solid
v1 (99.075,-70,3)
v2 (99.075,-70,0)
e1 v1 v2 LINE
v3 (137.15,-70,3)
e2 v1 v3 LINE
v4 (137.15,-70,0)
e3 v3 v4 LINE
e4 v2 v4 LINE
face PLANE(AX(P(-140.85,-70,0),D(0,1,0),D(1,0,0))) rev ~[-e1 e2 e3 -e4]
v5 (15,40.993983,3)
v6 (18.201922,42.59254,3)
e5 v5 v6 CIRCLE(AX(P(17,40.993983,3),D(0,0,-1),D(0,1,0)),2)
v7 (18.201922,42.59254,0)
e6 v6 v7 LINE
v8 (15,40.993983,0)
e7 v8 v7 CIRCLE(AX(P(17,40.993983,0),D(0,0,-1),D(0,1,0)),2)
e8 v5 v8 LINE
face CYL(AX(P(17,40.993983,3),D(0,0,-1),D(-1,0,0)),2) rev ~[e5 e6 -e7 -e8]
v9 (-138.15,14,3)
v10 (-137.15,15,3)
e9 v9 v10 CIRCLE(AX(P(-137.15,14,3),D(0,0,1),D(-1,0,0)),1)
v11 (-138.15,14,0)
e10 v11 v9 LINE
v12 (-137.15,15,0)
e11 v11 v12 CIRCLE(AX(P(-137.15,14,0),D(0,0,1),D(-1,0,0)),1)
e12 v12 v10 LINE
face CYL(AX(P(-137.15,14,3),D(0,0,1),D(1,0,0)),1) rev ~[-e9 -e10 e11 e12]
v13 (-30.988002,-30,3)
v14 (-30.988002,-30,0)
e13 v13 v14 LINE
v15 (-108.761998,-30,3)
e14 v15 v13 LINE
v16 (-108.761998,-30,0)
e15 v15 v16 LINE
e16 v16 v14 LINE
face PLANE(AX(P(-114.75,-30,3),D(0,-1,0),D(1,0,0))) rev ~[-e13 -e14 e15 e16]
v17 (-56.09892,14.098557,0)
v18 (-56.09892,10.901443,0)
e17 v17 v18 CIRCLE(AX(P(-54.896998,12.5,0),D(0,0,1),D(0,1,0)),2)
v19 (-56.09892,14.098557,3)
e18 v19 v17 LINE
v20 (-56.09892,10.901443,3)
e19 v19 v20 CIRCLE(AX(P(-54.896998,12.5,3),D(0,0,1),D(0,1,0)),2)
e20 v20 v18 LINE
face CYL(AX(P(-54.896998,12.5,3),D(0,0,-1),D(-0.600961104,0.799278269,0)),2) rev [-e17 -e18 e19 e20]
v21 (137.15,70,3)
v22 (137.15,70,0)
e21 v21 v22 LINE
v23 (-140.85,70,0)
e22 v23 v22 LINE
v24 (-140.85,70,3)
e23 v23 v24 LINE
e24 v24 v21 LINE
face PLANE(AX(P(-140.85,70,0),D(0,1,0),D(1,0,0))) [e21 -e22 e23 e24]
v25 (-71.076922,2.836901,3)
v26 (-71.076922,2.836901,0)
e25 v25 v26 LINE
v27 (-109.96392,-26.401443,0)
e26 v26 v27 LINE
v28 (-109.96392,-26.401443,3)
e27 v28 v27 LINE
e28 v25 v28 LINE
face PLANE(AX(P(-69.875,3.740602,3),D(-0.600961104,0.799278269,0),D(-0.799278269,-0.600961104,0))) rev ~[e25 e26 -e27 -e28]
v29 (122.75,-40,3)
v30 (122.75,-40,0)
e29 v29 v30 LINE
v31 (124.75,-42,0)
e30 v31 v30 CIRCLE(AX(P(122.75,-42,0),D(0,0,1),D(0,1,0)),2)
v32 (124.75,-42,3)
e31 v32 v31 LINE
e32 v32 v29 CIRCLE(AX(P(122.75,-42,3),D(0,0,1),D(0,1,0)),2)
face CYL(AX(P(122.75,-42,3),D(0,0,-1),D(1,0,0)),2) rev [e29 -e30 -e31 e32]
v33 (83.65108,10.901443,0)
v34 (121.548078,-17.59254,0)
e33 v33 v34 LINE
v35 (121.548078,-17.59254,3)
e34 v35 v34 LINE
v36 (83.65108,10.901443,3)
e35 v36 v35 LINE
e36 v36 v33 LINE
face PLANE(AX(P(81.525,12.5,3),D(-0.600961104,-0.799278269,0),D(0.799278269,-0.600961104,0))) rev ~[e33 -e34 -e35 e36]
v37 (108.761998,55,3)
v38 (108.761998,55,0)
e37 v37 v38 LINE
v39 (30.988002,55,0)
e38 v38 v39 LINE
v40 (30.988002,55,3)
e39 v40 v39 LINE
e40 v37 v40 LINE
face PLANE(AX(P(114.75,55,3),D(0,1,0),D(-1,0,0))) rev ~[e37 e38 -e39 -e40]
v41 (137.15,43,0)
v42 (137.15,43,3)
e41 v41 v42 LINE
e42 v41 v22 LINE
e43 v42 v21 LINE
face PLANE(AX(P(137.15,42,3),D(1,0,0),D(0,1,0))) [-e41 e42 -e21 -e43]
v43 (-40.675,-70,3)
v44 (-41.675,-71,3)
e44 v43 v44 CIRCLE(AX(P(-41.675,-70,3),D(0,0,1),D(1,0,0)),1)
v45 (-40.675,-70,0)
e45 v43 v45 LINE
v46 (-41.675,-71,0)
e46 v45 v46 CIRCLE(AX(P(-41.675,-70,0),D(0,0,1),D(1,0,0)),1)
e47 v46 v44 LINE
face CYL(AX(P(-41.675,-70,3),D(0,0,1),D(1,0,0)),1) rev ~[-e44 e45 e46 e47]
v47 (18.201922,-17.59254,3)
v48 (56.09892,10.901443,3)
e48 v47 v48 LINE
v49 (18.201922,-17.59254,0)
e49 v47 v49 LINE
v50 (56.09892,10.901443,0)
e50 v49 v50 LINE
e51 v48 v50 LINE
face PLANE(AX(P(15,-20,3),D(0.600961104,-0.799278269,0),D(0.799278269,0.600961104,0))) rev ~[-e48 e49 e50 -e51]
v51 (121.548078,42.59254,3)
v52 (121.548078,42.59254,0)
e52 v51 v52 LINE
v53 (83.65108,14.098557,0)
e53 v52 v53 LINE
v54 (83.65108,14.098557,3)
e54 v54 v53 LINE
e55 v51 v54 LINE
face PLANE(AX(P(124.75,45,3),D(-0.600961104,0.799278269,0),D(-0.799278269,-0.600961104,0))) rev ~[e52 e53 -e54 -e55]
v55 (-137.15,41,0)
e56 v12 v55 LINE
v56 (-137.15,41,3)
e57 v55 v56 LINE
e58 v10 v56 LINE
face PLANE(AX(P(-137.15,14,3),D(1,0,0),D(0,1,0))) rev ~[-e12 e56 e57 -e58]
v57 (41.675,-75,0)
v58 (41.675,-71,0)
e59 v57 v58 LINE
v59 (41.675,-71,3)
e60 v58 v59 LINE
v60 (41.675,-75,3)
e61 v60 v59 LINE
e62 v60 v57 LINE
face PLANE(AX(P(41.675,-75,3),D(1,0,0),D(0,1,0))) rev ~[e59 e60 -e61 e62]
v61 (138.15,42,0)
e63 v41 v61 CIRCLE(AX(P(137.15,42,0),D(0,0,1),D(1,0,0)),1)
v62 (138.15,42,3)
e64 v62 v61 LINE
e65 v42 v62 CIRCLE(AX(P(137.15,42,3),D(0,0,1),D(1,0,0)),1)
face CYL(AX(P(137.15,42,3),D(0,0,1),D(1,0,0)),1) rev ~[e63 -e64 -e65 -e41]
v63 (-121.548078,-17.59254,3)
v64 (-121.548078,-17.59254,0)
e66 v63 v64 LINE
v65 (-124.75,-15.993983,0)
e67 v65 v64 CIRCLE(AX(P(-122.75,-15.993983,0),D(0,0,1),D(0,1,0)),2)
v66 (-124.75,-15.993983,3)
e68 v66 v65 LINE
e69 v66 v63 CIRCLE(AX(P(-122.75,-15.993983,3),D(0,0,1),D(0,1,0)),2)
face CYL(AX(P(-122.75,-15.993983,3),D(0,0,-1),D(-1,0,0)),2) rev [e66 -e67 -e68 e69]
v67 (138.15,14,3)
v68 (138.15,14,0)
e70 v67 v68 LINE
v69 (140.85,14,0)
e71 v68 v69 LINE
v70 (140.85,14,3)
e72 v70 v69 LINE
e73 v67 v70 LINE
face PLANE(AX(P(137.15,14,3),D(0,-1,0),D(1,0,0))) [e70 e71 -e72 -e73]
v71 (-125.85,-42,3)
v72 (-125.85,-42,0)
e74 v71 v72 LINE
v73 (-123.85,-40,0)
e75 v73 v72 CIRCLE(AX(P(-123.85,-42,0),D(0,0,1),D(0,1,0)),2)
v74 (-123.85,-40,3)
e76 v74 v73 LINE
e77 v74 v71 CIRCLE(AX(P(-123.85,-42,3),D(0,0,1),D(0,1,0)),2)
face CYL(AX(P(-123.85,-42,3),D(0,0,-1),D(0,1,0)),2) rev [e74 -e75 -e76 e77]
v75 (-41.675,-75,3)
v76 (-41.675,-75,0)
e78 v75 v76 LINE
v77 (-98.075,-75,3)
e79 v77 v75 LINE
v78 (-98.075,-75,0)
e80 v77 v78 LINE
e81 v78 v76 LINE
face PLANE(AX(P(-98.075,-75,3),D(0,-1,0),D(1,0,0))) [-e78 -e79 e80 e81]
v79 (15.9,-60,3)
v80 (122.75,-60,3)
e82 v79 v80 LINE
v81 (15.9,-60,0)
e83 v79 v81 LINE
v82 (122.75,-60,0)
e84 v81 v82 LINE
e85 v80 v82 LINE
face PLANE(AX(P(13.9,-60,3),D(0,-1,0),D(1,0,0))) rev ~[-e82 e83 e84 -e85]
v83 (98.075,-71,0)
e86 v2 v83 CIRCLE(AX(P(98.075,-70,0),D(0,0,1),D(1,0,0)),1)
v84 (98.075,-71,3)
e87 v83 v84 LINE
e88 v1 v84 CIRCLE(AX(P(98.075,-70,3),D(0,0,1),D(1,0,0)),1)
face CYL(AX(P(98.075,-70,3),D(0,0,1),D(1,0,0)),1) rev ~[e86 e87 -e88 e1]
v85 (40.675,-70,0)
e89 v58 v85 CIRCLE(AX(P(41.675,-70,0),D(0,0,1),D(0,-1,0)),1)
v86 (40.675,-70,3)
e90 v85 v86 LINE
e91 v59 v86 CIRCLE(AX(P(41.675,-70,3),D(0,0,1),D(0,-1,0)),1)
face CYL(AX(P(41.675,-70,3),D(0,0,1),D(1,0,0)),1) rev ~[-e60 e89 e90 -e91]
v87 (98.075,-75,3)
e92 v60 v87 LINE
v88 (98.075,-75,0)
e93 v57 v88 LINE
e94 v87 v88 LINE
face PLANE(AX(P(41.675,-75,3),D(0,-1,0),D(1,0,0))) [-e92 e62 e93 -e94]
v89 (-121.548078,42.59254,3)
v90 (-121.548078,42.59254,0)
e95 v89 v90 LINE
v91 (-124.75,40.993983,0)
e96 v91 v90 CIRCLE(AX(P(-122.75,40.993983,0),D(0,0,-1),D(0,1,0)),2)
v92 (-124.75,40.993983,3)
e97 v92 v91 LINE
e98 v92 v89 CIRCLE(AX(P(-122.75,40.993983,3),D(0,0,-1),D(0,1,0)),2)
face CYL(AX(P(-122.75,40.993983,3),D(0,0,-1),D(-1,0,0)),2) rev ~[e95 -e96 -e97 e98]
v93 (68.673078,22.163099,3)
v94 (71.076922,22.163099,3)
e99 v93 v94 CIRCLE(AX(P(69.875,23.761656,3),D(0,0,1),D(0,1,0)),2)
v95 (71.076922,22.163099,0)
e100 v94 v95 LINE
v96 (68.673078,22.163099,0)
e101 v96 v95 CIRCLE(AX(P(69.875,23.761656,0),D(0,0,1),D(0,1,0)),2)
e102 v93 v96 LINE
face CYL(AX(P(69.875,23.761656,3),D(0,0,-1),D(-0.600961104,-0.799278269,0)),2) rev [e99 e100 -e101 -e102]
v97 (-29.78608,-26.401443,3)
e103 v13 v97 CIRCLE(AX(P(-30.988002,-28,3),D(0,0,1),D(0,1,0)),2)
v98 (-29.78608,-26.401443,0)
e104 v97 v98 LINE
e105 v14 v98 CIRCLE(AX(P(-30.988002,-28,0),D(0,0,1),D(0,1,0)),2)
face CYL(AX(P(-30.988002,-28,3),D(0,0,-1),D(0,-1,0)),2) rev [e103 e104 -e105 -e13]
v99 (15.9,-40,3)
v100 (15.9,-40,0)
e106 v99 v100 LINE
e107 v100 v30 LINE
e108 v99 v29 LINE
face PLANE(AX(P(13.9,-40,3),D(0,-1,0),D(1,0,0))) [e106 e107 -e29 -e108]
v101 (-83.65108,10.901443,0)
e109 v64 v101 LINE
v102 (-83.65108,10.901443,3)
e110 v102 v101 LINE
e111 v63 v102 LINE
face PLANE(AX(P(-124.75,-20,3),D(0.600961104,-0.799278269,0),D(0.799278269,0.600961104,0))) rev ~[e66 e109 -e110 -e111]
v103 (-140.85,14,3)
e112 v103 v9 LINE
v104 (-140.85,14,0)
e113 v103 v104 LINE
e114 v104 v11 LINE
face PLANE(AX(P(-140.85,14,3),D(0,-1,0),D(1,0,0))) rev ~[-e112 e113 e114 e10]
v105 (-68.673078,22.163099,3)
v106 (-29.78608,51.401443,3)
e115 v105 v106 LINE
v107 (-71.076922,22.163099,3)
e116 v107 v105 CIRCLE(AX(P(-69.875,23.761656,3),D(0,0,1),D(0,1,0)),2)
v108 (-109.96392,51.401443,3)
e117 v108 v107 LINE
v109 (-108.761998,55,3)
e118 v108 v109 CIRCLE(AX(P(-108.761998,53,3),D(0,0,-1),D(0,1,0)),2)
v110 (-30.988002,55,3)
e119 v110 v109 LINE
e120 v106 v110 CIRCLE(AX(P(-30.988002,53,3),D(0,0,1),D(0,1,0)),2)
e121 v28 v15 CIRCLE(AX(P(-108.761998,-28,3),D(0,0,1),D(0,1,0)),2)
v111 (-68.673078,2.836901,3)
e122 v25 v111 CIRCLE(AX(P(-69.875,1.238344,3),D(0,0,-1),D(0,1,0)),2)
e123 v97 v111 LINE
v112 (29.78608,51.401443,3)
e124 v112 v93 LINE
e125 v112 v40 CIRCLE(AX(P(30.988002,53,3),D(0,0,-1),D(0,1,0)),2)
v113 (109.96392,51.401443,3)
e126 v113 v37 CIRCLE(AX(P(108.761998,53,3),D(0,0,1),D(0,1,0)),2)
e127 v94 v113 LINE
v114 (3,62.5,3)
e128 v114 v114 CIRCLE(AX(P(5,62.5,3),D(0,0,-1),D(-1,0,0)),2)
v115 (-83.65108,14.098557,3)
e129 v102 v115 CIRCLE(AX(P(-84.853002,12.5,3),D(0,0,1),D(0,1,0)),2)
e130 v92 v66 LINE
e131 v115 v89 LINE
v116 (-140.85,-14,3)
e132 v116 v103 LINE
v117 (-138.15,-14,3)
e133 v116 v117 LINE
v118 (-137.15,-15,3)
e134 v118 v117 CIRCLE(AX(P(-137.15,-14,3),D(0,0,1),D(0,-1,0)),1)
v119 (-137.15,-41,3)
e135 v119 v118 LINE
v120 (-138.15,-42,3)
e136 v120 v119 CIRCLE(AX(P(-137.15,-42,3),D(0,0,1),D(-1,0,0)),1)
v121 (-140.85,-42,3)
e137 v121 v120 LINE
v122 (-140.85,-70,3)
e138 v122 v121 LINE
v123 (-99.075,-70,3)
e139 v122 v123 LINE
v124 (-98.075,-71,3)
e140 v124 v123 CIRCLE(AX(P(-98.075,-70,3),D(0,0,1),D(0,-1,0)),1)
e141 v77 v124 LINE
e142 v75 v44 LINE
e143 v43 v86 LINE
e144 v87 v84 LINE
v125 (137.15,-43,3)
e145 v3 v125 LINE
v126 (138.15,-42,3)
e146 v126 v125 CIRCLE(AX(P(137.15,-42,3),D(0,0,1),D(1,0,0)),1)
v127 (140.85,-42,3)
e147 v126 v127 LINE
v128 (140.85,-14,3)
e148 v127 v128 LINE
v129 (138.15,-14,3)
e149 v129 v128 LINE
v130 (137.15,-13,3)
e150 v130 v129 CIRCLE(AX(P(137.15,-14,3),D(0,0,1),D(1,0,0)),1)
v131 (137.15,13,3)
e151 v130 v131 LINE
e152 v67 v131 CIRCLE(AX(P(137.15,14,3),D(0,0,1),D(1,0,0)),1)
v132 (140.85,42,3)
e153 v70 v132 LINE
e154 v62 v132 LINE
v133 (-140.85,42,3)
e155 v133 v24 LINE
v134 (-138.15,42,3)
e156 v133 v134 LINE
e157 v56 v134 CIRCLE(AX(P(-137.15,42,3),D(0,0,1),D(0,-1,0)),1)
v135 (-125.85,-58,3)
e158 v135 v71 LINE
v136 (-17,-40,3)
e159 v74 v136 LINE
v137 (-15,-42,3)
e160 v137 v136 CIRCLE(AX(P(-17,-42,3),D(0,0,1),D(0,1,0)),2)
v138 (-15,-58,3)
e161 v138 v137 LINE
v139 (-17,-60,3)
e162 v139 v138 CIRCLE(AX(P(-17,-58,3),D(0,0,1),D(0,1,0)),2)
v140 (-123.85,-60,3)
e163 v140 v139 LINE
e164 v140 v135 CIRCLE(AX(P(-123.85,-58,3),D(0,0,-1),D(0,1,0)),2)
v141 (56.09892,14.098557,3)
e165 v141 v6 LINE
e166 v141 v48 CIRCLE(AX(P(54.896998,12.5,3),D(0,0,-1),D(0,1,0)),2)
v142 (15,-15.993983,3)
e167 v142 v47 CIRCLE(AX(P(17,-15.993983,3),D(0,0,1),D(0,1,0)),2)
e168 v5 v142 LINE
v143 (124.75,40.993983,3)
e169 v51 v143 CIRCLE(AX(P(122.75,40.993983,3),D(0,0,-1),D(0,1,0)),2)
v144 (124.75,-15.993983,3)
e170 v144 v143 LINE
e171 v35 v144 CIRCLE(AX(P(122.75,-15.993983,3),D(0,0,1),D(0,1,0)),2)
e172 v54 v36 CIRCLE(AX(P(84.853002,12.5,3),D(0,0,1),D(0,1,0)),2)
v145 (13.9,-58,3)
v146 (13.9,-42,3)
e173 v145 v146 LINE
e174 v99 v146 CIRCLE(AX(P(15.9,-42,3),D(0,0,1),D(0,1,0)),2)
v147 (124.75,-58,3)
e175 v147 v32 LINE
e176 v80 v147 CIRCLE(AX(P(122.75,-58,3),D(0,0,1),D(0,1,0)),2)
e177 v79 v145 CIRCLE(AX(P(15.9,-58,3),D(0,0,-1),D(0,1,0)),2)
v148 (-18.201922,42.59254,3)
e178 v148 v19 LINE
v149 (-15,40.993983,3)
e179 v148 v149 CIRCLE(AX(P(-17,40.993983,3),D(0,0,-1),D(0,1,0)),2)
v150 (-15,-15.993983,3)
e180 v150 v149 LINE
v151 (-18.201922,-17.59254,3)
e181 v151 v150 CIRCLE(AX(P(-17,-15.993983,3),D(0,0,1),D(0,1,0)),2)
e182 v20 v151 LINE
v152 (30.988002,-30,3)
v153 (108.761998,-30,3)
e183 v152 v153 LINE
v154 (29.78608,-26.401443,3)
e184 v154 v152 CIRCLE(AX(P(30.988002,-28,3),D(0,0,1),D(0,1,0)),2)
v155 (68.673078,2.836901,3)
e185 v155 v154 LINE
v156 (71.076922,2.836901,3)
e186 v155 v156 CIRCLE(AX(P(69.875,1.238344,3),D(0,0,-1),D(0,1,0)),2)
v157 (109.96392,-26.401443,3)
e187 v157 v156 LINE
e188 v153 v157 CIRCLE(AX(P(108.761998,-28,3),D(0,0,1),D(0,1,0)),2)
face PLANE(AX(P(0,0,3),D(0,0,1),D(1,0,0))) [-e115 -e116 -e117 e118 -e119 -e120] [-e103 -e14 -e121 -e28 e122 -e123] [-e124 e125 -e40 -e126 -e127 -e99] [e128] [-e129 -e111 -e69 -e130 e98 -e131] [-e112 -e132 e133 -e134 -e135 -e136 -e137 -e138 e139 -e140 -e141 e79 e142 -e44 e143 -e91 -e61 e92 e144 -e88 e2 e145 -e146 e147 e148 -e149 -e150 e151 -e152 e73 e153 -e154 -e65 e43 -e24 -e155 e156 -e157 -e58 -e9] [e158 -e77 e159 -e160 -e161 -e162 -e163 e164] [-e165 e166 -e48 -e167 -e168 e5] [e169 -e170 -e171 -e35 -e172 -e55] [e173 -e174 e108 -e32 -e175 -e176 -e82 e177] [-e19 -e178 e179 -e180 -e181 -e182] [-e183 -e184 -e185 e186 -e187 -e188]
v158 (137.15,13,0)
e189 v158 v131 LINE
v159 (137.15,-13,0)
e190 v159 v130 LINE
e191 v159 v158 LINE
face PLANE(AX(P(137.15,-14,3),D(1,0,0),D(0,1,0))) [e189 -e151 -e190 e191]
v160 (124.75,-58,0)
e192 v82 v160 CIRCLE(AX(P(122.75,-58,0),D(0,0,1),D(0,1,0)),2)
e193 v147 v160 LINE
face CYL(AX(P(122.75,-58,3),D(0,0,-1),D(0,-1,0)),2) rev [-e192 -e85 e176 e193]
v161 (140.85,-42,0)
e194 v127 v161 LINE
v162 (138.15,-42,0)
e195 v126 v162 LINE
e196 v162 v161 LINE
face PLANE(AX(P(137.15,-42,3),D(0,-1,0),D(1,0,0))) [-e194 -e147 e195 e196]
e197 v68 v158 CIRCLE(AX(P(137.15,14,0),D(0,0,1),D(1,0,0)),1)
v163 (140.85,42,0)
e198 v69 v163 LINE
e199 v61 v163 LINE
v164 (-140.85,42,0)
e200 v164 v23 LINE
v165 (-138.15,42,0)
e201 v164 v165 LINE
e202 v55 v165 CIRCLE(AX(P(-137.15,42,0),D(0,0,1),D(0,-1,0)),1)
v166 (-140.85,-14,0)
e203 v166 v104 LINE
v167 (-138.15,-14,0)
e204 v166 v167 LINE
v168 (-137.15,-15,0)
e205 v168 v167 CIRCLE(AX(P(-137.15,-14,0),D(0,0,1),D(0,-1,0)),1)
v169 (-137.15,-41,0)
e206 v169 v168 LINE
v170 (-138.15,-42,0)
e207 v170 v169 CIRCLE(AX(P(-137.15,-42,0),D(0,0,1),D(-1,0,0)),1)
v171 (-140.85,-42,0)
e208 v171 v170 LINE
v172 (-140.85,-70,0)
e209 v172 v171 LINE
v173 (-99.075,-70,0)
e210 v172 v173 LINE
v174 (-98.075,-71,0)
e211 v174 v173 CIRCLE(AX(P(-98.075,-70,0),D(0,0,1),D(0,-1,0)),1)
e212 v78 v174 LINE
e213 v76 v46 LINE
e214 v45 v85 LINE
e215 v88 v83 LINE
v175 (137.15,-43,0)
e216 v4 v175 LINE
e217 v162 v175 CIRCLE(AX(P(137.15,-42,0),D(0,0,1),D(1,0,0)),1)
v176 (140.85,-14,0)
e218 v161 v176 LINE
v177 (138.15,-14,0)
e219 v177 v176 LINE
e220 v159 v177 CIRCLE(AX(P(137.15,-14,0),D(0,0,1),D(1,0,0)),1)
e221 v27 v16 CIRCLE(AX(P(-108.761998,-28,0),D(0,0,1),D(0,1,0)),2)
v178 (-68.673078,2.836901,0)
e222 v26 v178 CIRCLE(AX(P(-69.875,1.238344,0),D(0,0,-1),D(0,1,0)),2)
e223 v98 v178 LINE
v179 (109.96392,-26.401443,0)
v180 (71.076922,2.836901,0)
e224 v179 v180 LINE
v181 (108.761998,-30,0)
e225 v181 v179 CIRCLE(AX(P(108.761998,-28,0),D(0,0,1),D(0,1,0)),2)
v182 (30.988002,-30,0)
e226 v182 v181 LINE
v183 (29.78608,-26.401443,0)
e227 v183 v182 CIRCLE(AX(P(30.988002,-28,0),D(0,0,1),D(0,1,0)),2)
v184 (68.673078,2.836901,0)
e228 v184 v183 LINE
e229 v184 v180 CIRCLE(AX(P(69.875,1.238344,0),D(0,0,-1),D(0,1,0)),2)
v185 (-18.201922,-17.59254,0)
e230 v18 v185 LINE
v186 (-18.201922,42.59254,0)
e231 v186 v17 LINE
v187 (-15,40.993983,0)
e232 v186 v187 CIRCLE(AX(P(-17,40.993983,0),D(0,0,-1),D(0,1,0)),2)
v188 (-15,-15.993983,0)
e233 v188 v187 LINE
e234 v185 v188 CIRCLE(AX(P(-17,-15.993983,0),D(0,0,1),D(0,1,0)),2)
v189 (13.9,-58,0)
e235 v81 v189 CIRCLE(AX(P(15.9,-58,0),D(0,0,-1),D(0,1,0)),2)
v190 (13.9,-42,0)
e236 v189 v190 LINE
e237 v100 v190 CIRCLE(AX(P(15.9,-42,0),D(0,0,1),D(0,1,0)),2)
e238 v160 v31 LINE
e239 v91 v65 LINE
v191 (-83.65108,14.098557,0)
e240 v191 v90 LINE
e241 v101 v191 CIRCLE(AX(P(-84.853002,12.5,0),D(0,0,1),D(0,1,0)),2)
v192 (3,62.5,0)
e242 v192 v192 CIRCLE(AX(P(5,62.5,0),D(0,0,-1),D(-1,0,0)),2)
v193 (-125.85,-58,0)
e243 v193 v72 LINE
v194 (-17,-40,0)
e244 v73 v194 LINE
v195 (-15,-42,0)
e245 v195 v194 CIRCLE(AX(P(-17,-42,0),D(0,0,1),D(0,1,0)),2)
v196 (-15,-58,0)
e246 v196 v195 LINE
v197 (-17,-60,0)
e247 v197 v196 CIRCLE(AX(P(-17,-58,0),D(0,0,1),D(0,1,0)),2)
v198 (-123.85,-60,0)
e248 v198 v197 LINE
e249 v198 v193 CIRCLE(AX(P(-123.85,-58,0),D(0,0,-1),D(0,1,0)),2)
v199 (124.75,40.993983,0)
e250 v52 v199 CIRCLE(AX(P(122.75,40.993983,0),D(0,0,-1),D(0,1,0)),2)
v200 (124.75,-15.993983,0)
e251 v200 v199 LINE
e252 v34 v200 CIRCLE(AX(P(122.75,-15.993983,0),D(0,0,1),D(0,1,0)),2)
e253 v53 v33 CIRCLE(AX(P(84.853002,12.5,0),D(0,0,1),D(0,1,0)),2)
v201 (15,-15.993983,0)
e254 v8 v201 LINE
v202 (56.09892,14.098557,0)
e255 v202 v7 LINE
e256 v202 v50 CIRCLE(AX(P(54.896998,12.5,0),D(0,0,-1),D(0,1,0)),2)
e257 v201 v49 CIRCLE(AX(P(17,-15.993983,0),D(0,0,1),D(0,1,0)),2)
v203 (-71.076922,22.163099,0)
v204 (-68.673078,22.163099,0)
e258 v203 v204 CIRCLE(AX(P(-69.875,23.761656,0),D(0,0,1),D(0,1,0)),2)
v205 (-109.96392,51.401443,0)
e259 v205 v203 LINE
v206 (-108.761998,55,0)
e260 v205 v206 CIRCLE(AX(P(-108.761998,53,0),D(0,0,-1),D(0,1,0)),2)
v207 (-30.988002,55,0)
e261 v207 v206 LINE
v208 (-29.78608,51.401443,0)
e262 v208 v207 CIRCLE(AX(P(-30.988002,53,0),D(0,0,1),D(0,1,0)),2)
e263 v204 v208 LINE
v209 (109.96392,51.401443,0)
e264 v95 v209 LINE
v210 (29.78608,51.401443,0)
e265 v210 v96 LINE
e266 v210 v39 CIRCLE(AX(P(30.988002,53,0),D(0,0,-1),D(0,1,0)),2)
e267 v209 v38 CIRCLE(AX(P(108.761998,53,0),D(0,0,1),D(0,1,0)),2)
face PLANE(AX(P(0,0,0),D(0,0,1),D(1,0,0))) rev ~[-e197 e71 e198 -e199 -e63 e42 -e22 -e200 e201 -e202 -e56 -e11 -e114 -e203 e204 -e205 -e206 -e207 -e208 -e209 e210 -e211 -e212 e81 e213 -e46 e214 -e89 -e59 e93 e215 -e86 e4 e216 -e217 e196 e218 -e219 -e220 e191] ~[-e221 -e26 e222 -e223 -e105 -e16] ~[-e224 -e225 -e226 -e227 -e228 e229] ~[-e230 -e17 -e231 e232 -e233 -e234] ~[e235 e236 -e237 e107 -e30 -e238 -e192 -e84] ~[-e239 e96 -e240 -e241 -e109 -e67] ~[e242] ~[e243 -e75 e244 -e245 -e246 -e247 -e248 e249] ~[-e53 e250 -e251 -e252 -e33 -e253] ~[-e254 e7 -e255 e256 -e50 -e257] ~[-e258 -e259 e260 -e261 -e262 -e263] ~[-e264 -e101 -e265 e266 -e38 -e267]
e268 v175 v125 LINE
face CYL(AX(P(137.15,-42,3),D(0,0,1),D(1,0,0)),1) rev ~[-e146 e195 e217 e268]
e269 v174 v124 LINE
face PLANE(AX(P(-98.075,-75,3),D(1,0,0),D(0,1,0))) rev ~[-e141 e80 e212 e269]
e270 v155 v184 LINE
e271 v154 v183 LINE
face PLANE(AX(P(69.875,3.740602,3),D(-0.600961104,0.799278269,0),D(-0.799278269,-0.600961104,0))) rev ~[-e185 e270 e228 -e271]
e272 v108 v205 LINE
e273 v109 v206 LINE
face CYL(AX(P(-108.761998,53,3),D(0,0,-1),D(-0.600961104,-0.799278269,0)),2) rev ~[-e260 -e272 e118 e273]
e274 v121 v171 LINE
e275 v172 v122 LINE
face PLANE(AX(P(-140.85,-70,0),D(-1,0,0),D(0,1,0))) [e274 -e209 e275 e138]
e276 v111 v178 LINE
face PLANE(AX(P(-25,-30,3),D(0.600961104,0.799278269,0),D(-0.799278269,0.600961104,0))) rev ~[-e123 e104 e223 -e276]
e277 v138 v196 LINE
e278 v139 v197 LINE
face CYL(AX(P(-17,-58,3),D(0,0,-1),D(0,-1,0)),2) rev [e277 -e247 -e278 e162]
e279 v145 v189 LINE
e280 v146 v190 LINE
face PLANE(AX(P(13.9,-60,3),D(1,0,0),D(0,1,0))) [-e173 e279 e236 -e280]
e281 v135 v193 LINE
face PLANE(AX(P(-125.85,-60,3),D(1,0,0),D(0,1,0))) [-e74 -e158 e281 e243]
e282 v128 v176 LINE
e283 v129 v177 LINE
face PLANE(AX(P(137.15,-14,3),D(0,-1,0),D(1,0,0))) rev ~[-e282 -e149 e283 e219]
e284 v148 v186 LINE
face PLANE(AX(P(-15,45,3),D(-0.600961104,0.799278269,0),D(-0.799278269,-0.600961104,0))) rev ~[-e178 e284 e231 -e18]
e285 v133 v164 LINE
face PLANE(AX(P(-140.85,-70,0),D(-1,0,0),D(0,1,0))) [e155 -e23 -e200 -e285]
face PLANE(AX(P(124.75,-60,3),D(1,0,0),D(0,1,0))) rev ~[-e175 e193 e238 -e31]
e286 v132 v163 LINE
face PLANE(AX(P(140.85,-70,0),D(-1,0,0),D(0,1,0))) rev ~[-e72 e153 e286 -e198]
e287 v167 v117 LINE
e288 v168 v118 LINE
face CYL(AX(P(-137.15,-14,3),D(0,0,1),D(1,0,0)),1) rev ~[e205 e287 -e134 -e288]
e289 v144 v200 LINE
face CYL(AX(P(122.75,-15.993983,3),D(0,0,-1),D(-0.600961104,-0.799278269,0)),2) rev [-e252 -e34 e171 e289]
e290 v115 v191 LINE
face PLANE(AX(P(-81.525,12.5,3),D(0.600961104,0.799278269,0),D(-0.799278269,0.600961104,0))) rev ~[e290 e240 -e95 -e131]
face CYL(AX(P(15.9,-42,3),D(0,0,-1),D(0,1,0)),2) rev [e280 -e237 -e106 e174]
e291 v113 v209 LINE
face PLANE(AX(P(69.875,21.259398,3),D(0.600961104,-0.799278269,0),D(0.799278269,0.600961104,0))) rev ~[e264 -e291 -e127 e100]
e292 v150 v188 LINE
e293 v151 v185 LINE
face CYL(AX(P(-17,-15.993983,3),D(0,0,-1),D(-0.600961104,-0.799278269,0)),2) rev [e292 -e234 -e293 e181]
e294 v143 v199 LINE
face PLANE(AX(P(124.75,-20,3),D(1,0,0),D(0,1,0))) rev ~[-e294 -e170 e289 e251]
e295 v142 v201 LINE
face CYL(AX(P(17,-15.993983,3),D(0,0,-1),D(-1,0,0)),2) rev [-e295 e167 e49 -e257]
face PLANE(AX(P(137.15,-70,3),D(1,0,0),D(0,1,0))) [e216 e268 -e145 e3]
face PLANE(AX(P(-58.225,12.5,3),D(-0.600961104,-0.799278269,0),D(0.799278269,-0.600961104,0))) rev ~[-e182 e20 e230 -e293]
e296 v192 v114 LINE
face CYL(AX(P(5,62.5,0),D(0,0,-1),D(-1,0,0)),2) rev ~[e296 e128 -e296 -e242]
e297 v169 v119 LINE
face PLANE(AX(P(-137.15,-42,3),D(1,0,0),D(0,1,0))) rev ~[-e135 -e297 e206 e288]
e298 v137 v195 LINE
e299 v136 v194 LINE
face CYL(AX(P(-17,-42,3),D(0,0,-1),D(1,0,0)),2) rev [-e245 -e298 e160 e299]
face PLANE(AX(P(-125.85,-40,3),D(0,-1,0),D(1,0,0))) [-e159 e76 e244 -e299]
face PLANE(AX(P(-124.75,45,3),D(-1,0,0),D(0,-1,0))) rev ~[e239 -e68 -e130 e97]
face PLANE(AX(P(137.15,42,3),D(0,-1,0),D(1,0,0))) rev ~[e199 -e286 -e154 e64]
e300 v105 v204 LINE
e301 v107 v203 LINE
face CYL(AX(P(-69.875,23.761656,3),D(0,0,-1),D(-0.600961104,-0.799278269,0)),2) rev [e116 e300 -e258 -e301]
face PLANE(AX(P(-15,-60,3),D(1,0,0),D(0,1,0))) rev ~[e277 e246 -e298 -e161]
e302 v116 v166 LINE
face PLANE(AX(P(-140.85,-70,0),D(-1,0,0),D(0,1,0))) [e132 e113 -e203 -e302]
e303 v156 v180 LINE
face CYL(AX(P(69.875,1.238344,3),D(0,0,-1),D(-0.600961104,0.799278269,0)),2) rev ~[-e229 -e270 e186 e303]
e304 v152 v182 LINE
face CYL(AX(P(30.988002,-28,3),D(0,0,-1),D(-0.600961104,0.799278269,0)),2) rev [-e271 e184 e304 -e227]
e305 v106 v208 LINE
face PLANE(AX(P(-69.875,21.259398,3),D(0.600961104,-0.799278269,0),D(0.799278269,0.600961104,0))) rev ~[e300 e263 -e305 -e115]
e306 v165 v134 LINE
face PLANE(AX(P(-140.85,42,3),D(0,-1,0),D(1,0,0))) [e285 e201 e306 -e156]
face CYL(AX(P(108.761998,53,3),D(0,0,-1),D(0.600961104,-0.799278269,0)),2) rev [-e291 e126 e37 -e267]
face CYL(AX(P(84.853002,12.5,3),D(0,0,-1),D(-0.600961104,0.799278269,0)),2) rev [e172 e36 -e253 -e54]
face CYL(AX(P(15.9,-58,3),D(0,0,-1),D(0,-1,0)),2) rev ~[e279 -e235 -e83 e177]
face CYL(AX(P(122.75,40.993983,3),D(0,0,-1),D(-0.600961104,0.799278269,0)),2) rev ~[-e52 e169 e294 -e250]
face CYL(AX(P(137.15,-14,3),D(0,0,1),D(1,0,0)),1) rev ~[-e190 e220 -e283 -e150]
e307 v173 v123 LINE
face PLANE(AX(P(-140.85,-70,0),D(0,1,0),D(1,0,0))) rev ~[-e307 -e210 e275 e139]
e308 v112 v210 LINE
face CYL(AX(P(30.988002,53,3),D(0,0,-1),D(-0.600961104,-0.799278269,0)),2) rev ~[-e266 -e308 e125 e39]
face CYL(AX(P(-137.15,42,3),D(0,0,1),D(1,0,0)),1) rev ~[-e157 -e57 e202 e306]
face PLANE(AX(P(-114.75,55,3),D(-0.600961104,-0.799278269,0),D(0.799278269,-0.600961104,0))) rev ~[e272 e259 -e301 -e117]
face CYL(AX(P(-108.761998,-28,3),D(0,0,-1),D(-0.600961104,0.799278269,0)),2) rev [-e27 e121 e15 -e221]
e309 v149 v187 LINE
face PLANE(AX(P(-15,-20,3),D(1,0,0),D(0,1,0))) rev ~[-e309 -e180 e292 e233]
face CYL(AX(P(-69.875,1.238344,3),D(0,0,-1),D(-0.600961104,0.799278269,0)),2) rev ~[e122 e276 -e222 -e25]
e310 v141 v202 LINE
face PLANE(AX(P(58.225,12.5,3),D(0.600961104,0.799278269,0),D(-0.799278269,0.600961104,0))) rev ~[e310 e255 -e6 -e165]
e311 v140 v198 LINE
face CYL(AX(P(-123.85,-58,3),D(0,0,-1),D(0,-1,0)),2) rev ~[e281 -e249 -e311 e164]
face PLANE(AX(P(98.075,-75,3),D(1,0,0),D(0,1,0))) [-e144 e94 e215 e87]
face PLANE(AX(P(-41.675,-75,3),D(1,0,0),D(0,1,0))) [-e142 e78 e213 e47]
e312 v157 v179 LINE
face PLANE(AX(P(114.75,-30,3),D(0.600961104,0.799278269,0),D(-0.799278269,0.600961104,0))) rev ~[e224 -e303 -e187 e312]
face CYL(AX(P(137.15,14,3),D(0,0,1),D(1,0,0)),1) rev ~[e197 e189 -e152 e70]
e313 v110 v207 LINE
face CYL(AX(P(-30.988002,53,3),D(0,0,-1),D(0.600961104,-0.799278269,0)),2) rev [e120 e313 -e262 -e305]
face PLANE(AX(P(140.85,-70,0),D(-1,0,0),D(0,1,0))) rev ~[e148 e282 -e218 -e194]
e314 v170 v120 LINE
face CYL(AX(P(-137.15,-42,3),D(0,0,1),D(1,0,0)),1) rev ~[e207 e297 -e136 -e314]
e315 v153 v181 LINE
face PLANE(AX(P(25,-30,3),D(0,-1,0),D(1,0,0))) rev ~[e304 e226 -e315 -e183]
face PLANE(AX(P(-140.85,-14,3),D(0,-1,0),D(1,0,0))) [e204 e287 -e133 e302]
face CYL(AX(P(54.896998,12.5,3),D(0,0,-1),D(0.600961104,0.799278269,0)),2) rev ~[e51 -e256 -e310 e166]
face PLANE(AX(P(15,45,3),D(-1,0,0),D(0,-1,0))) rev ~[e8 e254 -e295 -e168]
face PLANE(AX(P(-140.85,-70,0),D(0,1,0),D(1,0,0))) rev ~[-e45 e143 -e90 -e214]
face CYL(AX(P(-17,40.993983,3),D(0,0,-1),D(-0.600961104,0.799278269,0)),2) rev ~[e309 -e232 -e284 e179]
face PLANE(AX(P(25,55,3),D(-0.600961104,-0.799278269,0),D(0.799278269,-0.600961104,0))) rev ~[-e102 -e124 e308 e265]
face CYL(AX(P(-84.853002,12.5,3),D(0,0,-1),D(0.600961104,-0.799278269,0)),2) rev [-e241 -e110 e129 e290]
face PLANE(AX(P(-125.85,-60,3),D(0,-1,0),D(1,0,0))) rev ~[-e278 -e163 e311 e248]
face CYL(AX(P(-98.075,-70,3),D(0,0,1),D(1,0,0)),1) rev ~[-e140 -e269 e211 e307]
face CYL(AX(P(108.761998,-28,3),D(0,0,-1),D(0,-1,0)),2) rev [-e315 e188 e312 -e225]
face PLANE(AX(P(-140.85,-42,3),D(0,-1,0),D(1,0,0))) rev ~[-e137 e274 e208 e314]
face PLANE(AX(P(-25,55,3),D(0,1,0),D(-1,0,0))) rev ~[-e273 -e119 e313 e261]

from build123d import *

# Parameters (mm, degrees)
SKETCH1_W           = 281.7
SKETCH1_H           = 140
BOSS_EXTRUDE1_DEPTH = 3
SKETCH2_W           = 110.85
SKETCH2_H           = 20
CUT_EXTRUDE1_DEPTH  = 158.314088689
FILLET1_R           = 2
SKETCH3_W           = 3.7
SKETCH3_H           = 28
CUT_EXTRUDE2_DEPTH  = 158.314088689
SKETCH4_W           = 56.4
SKETCH4_H           = 5
BOSS_EXTRUDE2_DEPTH = 3
FILLET2_R           = 2
SKETCH5_R           = 2
CUT_EXTRUDE3_DEPTH  = 160.601762208
SKETCH6_R           = 1
CUT_EXTRUDE4_DEPTH  = 160.601762208


with BuildPart() as part:
    # Sketch1 → Boss-Extrude1 (new body)
    with BuildSketch(Plane.XY):
        Rectangle(SKETCH1_W, SKETCH1_H)
    extrude(amount=BOSS_EXTRUDE1_DEPTH)

    # Sketch2 → Cut-Extrude1 (cut, through all)
    with BuildSketch(Plane.XY.offset(3)):
        Polygon((-124.75, 45), (-124.75, -20), (-81.525, 12.5), align=None)
        Polygon((-114.75, 55), (-69.875, 21.259398496), (-25, 55), align=None)
        Polygon((-15, 45), (-58.225, 12.5), (-15, -20), align=None)
        Polygon((-69.875, 3.740601504), (-114.75, -30), (-25, -30), align=None)
        with Locations((-70.425, -50)):
            Rectangle(SKETCH2_W, SKETCH2_H)
        with Locations((69.325, -50)):
            Rectangle(SKETCH2_W, SKETCH2_H)
        Polygon((69.875, 3.740601504), (25, -30), (114.75, -30), align=None)
        Polygon((15, 45), (15, -20), (58.225, 12.5), align=None)
        Polygon((25, 55), (69.875, 21.259398496), (114.75, 55), align=None)
        Polygon((124.75, 45), (81.525, 12.5), (124.75, -20), align=None)
    extrude(amount=-CUT_EXTRUDE1_DEPTH, mode=Mode.SUBTRACT)

    # Fillet1
    fillet1_edges = [part.edges().sort_by_distance(p)[0] for p in [
        (114.75, 55, 1.5),
        (25, 55, 1.5),
        (124.75, 45, 1.5),
        (124.75, -20, 1.5),
        (81.525, 12.5, 1.5),
        (-81.525, 12.5, 1.5),
        (-124.75, -20, 1.5),
        (-124.75, 45, 1.5),
        (-25, 55, 1.5),
        (-69.875, 21.259398496, 1.5),
        (-114.75, 55, 1.5),
        (-15, 45, 1.5),
        (-15, -20, 1.5),
        (-58.225, 12.5, 1.5),
        (-69.875, 3.740601504, 1.5),
        (-25, -30, 1.5),
        (-114.75, -30, 1.5),
        (-15, -60, 1.5),
        (-125.85, -60, 1.5),
        (-125.85, -40, 1.5),
        (-15, -40, 1.5),
        (124.75, -60, 1.5),
        (13.9, -60, 1.5),
        (13.9, -40, 1.5),
        (124.75, -40, 1.5),
        (69.875, 3.740601504, 1.5),
        (114.75, -30, 1.5),
        (25, -30, 1.5),
        (15, -20, 1.5),
        (15, 45, 1.5),
    ]]
    fillet(fillet1_edges, radius=FILLET1_R)

    # Sketch3 → Cut-Extrude2 (cut, through all)
    with BuildSketch(Plane.XY.offset(3)):
        with Locations((139, 56)):
            Rectangle(SKETCH3_W, SKETCH3_H)
        with Locations((139, -56)):
            Rectangle(SKETCH3_W, SKETCH3_H)
        with Locations((139, 0)):
            Rectangle(SKETCH3_W, SKETCH3_H)
        with Locations((-139, -28)):
            Rectangle(SKETCH3_W, SKETCH3_H)
        with Locations((-139, 28)):
            Rectangle(SKETCH3_W, SKETCH3_H)
    extrude(amount=-CUT_EXTRUDE2_DEPTH, mode=Mode.SUBTRACT)

    # Sketch4 → Boss-Extrude2 (add)
    with BuildSketch(Plane.XY.offset(3)):
        with Locations((-69.875, -72.5)):
            Rectangle(SKETCH4_W, SKETCH4_H)
        with Locations((69.875, -72.5)):
            Rectangle(SKETCH4_W, SKETCH4_H)
    extrude(amount=-BOSS_EXTRUDE2_DEPTH)

    # Fillet2
    fillet2_edges = [part.edges().sort_by_distance(p)[0] for p in [
        (69.875, 21.259398496, 1.5),
        (58.225, 12.5, 1.5),
    ]]
    fillet(fillet2_edges, radius=FILLET2_R)

    # Sketch5 → Cut-Extrude3 (cut, through all)
    with BuildSketch(Plane(origin=(0, 0, 0), x_dir=(-1, 0, 0), z_dir=(0, 0, -1))):
        with Locations((-5, 62.5)):
            Circle(SKETCH5_R)
    extrude(amount=-CUT_EXTRUDE3_DEPTH, mode=Mode.SUBTRACT)

    # Sketch6 → Cut-Extrude4 (cut, through all)
    with BuildSketch(Plane.XY.offset(3)):
        with Locations((-137.15, 42)):
            Circle(SKETCH6_R)
        with Locations((-137.15, 14)):
            Circle(SKETCH6_R)
        with Locations((-137.15, -14)):
            Circle(SKETCH6_R)
        with Locations((-137.15, -42)):
            Circle(SKETCH6_R)
        with Locations((-98.075, -70)):
            Circle(SKETCH6_R)
        with Locations((-41.675, -70)):
            Circle(SKETCH6_R)
        with Locations((41.675, -70)):
            Circle(SKETCH6_R)
        with Locations((98.075, -70)):
            Circle(SKETCH6_R)
        with Locations((137.15, -42)):
            Circle(SKETCH6_R)
        with Locations((137.15, -14)):
            Circle(SKETCH6_R)
        with Locations((137.15, 14)):
            Circle(SKETCH6_R)
        with Locations((137.15, 42)):
            Circle(SKETCH6_R)
    extrude(amount=-CUT_EXTRUDE4_DEPTH, mode=Mode.SUBTRACT)


solid = part.part
